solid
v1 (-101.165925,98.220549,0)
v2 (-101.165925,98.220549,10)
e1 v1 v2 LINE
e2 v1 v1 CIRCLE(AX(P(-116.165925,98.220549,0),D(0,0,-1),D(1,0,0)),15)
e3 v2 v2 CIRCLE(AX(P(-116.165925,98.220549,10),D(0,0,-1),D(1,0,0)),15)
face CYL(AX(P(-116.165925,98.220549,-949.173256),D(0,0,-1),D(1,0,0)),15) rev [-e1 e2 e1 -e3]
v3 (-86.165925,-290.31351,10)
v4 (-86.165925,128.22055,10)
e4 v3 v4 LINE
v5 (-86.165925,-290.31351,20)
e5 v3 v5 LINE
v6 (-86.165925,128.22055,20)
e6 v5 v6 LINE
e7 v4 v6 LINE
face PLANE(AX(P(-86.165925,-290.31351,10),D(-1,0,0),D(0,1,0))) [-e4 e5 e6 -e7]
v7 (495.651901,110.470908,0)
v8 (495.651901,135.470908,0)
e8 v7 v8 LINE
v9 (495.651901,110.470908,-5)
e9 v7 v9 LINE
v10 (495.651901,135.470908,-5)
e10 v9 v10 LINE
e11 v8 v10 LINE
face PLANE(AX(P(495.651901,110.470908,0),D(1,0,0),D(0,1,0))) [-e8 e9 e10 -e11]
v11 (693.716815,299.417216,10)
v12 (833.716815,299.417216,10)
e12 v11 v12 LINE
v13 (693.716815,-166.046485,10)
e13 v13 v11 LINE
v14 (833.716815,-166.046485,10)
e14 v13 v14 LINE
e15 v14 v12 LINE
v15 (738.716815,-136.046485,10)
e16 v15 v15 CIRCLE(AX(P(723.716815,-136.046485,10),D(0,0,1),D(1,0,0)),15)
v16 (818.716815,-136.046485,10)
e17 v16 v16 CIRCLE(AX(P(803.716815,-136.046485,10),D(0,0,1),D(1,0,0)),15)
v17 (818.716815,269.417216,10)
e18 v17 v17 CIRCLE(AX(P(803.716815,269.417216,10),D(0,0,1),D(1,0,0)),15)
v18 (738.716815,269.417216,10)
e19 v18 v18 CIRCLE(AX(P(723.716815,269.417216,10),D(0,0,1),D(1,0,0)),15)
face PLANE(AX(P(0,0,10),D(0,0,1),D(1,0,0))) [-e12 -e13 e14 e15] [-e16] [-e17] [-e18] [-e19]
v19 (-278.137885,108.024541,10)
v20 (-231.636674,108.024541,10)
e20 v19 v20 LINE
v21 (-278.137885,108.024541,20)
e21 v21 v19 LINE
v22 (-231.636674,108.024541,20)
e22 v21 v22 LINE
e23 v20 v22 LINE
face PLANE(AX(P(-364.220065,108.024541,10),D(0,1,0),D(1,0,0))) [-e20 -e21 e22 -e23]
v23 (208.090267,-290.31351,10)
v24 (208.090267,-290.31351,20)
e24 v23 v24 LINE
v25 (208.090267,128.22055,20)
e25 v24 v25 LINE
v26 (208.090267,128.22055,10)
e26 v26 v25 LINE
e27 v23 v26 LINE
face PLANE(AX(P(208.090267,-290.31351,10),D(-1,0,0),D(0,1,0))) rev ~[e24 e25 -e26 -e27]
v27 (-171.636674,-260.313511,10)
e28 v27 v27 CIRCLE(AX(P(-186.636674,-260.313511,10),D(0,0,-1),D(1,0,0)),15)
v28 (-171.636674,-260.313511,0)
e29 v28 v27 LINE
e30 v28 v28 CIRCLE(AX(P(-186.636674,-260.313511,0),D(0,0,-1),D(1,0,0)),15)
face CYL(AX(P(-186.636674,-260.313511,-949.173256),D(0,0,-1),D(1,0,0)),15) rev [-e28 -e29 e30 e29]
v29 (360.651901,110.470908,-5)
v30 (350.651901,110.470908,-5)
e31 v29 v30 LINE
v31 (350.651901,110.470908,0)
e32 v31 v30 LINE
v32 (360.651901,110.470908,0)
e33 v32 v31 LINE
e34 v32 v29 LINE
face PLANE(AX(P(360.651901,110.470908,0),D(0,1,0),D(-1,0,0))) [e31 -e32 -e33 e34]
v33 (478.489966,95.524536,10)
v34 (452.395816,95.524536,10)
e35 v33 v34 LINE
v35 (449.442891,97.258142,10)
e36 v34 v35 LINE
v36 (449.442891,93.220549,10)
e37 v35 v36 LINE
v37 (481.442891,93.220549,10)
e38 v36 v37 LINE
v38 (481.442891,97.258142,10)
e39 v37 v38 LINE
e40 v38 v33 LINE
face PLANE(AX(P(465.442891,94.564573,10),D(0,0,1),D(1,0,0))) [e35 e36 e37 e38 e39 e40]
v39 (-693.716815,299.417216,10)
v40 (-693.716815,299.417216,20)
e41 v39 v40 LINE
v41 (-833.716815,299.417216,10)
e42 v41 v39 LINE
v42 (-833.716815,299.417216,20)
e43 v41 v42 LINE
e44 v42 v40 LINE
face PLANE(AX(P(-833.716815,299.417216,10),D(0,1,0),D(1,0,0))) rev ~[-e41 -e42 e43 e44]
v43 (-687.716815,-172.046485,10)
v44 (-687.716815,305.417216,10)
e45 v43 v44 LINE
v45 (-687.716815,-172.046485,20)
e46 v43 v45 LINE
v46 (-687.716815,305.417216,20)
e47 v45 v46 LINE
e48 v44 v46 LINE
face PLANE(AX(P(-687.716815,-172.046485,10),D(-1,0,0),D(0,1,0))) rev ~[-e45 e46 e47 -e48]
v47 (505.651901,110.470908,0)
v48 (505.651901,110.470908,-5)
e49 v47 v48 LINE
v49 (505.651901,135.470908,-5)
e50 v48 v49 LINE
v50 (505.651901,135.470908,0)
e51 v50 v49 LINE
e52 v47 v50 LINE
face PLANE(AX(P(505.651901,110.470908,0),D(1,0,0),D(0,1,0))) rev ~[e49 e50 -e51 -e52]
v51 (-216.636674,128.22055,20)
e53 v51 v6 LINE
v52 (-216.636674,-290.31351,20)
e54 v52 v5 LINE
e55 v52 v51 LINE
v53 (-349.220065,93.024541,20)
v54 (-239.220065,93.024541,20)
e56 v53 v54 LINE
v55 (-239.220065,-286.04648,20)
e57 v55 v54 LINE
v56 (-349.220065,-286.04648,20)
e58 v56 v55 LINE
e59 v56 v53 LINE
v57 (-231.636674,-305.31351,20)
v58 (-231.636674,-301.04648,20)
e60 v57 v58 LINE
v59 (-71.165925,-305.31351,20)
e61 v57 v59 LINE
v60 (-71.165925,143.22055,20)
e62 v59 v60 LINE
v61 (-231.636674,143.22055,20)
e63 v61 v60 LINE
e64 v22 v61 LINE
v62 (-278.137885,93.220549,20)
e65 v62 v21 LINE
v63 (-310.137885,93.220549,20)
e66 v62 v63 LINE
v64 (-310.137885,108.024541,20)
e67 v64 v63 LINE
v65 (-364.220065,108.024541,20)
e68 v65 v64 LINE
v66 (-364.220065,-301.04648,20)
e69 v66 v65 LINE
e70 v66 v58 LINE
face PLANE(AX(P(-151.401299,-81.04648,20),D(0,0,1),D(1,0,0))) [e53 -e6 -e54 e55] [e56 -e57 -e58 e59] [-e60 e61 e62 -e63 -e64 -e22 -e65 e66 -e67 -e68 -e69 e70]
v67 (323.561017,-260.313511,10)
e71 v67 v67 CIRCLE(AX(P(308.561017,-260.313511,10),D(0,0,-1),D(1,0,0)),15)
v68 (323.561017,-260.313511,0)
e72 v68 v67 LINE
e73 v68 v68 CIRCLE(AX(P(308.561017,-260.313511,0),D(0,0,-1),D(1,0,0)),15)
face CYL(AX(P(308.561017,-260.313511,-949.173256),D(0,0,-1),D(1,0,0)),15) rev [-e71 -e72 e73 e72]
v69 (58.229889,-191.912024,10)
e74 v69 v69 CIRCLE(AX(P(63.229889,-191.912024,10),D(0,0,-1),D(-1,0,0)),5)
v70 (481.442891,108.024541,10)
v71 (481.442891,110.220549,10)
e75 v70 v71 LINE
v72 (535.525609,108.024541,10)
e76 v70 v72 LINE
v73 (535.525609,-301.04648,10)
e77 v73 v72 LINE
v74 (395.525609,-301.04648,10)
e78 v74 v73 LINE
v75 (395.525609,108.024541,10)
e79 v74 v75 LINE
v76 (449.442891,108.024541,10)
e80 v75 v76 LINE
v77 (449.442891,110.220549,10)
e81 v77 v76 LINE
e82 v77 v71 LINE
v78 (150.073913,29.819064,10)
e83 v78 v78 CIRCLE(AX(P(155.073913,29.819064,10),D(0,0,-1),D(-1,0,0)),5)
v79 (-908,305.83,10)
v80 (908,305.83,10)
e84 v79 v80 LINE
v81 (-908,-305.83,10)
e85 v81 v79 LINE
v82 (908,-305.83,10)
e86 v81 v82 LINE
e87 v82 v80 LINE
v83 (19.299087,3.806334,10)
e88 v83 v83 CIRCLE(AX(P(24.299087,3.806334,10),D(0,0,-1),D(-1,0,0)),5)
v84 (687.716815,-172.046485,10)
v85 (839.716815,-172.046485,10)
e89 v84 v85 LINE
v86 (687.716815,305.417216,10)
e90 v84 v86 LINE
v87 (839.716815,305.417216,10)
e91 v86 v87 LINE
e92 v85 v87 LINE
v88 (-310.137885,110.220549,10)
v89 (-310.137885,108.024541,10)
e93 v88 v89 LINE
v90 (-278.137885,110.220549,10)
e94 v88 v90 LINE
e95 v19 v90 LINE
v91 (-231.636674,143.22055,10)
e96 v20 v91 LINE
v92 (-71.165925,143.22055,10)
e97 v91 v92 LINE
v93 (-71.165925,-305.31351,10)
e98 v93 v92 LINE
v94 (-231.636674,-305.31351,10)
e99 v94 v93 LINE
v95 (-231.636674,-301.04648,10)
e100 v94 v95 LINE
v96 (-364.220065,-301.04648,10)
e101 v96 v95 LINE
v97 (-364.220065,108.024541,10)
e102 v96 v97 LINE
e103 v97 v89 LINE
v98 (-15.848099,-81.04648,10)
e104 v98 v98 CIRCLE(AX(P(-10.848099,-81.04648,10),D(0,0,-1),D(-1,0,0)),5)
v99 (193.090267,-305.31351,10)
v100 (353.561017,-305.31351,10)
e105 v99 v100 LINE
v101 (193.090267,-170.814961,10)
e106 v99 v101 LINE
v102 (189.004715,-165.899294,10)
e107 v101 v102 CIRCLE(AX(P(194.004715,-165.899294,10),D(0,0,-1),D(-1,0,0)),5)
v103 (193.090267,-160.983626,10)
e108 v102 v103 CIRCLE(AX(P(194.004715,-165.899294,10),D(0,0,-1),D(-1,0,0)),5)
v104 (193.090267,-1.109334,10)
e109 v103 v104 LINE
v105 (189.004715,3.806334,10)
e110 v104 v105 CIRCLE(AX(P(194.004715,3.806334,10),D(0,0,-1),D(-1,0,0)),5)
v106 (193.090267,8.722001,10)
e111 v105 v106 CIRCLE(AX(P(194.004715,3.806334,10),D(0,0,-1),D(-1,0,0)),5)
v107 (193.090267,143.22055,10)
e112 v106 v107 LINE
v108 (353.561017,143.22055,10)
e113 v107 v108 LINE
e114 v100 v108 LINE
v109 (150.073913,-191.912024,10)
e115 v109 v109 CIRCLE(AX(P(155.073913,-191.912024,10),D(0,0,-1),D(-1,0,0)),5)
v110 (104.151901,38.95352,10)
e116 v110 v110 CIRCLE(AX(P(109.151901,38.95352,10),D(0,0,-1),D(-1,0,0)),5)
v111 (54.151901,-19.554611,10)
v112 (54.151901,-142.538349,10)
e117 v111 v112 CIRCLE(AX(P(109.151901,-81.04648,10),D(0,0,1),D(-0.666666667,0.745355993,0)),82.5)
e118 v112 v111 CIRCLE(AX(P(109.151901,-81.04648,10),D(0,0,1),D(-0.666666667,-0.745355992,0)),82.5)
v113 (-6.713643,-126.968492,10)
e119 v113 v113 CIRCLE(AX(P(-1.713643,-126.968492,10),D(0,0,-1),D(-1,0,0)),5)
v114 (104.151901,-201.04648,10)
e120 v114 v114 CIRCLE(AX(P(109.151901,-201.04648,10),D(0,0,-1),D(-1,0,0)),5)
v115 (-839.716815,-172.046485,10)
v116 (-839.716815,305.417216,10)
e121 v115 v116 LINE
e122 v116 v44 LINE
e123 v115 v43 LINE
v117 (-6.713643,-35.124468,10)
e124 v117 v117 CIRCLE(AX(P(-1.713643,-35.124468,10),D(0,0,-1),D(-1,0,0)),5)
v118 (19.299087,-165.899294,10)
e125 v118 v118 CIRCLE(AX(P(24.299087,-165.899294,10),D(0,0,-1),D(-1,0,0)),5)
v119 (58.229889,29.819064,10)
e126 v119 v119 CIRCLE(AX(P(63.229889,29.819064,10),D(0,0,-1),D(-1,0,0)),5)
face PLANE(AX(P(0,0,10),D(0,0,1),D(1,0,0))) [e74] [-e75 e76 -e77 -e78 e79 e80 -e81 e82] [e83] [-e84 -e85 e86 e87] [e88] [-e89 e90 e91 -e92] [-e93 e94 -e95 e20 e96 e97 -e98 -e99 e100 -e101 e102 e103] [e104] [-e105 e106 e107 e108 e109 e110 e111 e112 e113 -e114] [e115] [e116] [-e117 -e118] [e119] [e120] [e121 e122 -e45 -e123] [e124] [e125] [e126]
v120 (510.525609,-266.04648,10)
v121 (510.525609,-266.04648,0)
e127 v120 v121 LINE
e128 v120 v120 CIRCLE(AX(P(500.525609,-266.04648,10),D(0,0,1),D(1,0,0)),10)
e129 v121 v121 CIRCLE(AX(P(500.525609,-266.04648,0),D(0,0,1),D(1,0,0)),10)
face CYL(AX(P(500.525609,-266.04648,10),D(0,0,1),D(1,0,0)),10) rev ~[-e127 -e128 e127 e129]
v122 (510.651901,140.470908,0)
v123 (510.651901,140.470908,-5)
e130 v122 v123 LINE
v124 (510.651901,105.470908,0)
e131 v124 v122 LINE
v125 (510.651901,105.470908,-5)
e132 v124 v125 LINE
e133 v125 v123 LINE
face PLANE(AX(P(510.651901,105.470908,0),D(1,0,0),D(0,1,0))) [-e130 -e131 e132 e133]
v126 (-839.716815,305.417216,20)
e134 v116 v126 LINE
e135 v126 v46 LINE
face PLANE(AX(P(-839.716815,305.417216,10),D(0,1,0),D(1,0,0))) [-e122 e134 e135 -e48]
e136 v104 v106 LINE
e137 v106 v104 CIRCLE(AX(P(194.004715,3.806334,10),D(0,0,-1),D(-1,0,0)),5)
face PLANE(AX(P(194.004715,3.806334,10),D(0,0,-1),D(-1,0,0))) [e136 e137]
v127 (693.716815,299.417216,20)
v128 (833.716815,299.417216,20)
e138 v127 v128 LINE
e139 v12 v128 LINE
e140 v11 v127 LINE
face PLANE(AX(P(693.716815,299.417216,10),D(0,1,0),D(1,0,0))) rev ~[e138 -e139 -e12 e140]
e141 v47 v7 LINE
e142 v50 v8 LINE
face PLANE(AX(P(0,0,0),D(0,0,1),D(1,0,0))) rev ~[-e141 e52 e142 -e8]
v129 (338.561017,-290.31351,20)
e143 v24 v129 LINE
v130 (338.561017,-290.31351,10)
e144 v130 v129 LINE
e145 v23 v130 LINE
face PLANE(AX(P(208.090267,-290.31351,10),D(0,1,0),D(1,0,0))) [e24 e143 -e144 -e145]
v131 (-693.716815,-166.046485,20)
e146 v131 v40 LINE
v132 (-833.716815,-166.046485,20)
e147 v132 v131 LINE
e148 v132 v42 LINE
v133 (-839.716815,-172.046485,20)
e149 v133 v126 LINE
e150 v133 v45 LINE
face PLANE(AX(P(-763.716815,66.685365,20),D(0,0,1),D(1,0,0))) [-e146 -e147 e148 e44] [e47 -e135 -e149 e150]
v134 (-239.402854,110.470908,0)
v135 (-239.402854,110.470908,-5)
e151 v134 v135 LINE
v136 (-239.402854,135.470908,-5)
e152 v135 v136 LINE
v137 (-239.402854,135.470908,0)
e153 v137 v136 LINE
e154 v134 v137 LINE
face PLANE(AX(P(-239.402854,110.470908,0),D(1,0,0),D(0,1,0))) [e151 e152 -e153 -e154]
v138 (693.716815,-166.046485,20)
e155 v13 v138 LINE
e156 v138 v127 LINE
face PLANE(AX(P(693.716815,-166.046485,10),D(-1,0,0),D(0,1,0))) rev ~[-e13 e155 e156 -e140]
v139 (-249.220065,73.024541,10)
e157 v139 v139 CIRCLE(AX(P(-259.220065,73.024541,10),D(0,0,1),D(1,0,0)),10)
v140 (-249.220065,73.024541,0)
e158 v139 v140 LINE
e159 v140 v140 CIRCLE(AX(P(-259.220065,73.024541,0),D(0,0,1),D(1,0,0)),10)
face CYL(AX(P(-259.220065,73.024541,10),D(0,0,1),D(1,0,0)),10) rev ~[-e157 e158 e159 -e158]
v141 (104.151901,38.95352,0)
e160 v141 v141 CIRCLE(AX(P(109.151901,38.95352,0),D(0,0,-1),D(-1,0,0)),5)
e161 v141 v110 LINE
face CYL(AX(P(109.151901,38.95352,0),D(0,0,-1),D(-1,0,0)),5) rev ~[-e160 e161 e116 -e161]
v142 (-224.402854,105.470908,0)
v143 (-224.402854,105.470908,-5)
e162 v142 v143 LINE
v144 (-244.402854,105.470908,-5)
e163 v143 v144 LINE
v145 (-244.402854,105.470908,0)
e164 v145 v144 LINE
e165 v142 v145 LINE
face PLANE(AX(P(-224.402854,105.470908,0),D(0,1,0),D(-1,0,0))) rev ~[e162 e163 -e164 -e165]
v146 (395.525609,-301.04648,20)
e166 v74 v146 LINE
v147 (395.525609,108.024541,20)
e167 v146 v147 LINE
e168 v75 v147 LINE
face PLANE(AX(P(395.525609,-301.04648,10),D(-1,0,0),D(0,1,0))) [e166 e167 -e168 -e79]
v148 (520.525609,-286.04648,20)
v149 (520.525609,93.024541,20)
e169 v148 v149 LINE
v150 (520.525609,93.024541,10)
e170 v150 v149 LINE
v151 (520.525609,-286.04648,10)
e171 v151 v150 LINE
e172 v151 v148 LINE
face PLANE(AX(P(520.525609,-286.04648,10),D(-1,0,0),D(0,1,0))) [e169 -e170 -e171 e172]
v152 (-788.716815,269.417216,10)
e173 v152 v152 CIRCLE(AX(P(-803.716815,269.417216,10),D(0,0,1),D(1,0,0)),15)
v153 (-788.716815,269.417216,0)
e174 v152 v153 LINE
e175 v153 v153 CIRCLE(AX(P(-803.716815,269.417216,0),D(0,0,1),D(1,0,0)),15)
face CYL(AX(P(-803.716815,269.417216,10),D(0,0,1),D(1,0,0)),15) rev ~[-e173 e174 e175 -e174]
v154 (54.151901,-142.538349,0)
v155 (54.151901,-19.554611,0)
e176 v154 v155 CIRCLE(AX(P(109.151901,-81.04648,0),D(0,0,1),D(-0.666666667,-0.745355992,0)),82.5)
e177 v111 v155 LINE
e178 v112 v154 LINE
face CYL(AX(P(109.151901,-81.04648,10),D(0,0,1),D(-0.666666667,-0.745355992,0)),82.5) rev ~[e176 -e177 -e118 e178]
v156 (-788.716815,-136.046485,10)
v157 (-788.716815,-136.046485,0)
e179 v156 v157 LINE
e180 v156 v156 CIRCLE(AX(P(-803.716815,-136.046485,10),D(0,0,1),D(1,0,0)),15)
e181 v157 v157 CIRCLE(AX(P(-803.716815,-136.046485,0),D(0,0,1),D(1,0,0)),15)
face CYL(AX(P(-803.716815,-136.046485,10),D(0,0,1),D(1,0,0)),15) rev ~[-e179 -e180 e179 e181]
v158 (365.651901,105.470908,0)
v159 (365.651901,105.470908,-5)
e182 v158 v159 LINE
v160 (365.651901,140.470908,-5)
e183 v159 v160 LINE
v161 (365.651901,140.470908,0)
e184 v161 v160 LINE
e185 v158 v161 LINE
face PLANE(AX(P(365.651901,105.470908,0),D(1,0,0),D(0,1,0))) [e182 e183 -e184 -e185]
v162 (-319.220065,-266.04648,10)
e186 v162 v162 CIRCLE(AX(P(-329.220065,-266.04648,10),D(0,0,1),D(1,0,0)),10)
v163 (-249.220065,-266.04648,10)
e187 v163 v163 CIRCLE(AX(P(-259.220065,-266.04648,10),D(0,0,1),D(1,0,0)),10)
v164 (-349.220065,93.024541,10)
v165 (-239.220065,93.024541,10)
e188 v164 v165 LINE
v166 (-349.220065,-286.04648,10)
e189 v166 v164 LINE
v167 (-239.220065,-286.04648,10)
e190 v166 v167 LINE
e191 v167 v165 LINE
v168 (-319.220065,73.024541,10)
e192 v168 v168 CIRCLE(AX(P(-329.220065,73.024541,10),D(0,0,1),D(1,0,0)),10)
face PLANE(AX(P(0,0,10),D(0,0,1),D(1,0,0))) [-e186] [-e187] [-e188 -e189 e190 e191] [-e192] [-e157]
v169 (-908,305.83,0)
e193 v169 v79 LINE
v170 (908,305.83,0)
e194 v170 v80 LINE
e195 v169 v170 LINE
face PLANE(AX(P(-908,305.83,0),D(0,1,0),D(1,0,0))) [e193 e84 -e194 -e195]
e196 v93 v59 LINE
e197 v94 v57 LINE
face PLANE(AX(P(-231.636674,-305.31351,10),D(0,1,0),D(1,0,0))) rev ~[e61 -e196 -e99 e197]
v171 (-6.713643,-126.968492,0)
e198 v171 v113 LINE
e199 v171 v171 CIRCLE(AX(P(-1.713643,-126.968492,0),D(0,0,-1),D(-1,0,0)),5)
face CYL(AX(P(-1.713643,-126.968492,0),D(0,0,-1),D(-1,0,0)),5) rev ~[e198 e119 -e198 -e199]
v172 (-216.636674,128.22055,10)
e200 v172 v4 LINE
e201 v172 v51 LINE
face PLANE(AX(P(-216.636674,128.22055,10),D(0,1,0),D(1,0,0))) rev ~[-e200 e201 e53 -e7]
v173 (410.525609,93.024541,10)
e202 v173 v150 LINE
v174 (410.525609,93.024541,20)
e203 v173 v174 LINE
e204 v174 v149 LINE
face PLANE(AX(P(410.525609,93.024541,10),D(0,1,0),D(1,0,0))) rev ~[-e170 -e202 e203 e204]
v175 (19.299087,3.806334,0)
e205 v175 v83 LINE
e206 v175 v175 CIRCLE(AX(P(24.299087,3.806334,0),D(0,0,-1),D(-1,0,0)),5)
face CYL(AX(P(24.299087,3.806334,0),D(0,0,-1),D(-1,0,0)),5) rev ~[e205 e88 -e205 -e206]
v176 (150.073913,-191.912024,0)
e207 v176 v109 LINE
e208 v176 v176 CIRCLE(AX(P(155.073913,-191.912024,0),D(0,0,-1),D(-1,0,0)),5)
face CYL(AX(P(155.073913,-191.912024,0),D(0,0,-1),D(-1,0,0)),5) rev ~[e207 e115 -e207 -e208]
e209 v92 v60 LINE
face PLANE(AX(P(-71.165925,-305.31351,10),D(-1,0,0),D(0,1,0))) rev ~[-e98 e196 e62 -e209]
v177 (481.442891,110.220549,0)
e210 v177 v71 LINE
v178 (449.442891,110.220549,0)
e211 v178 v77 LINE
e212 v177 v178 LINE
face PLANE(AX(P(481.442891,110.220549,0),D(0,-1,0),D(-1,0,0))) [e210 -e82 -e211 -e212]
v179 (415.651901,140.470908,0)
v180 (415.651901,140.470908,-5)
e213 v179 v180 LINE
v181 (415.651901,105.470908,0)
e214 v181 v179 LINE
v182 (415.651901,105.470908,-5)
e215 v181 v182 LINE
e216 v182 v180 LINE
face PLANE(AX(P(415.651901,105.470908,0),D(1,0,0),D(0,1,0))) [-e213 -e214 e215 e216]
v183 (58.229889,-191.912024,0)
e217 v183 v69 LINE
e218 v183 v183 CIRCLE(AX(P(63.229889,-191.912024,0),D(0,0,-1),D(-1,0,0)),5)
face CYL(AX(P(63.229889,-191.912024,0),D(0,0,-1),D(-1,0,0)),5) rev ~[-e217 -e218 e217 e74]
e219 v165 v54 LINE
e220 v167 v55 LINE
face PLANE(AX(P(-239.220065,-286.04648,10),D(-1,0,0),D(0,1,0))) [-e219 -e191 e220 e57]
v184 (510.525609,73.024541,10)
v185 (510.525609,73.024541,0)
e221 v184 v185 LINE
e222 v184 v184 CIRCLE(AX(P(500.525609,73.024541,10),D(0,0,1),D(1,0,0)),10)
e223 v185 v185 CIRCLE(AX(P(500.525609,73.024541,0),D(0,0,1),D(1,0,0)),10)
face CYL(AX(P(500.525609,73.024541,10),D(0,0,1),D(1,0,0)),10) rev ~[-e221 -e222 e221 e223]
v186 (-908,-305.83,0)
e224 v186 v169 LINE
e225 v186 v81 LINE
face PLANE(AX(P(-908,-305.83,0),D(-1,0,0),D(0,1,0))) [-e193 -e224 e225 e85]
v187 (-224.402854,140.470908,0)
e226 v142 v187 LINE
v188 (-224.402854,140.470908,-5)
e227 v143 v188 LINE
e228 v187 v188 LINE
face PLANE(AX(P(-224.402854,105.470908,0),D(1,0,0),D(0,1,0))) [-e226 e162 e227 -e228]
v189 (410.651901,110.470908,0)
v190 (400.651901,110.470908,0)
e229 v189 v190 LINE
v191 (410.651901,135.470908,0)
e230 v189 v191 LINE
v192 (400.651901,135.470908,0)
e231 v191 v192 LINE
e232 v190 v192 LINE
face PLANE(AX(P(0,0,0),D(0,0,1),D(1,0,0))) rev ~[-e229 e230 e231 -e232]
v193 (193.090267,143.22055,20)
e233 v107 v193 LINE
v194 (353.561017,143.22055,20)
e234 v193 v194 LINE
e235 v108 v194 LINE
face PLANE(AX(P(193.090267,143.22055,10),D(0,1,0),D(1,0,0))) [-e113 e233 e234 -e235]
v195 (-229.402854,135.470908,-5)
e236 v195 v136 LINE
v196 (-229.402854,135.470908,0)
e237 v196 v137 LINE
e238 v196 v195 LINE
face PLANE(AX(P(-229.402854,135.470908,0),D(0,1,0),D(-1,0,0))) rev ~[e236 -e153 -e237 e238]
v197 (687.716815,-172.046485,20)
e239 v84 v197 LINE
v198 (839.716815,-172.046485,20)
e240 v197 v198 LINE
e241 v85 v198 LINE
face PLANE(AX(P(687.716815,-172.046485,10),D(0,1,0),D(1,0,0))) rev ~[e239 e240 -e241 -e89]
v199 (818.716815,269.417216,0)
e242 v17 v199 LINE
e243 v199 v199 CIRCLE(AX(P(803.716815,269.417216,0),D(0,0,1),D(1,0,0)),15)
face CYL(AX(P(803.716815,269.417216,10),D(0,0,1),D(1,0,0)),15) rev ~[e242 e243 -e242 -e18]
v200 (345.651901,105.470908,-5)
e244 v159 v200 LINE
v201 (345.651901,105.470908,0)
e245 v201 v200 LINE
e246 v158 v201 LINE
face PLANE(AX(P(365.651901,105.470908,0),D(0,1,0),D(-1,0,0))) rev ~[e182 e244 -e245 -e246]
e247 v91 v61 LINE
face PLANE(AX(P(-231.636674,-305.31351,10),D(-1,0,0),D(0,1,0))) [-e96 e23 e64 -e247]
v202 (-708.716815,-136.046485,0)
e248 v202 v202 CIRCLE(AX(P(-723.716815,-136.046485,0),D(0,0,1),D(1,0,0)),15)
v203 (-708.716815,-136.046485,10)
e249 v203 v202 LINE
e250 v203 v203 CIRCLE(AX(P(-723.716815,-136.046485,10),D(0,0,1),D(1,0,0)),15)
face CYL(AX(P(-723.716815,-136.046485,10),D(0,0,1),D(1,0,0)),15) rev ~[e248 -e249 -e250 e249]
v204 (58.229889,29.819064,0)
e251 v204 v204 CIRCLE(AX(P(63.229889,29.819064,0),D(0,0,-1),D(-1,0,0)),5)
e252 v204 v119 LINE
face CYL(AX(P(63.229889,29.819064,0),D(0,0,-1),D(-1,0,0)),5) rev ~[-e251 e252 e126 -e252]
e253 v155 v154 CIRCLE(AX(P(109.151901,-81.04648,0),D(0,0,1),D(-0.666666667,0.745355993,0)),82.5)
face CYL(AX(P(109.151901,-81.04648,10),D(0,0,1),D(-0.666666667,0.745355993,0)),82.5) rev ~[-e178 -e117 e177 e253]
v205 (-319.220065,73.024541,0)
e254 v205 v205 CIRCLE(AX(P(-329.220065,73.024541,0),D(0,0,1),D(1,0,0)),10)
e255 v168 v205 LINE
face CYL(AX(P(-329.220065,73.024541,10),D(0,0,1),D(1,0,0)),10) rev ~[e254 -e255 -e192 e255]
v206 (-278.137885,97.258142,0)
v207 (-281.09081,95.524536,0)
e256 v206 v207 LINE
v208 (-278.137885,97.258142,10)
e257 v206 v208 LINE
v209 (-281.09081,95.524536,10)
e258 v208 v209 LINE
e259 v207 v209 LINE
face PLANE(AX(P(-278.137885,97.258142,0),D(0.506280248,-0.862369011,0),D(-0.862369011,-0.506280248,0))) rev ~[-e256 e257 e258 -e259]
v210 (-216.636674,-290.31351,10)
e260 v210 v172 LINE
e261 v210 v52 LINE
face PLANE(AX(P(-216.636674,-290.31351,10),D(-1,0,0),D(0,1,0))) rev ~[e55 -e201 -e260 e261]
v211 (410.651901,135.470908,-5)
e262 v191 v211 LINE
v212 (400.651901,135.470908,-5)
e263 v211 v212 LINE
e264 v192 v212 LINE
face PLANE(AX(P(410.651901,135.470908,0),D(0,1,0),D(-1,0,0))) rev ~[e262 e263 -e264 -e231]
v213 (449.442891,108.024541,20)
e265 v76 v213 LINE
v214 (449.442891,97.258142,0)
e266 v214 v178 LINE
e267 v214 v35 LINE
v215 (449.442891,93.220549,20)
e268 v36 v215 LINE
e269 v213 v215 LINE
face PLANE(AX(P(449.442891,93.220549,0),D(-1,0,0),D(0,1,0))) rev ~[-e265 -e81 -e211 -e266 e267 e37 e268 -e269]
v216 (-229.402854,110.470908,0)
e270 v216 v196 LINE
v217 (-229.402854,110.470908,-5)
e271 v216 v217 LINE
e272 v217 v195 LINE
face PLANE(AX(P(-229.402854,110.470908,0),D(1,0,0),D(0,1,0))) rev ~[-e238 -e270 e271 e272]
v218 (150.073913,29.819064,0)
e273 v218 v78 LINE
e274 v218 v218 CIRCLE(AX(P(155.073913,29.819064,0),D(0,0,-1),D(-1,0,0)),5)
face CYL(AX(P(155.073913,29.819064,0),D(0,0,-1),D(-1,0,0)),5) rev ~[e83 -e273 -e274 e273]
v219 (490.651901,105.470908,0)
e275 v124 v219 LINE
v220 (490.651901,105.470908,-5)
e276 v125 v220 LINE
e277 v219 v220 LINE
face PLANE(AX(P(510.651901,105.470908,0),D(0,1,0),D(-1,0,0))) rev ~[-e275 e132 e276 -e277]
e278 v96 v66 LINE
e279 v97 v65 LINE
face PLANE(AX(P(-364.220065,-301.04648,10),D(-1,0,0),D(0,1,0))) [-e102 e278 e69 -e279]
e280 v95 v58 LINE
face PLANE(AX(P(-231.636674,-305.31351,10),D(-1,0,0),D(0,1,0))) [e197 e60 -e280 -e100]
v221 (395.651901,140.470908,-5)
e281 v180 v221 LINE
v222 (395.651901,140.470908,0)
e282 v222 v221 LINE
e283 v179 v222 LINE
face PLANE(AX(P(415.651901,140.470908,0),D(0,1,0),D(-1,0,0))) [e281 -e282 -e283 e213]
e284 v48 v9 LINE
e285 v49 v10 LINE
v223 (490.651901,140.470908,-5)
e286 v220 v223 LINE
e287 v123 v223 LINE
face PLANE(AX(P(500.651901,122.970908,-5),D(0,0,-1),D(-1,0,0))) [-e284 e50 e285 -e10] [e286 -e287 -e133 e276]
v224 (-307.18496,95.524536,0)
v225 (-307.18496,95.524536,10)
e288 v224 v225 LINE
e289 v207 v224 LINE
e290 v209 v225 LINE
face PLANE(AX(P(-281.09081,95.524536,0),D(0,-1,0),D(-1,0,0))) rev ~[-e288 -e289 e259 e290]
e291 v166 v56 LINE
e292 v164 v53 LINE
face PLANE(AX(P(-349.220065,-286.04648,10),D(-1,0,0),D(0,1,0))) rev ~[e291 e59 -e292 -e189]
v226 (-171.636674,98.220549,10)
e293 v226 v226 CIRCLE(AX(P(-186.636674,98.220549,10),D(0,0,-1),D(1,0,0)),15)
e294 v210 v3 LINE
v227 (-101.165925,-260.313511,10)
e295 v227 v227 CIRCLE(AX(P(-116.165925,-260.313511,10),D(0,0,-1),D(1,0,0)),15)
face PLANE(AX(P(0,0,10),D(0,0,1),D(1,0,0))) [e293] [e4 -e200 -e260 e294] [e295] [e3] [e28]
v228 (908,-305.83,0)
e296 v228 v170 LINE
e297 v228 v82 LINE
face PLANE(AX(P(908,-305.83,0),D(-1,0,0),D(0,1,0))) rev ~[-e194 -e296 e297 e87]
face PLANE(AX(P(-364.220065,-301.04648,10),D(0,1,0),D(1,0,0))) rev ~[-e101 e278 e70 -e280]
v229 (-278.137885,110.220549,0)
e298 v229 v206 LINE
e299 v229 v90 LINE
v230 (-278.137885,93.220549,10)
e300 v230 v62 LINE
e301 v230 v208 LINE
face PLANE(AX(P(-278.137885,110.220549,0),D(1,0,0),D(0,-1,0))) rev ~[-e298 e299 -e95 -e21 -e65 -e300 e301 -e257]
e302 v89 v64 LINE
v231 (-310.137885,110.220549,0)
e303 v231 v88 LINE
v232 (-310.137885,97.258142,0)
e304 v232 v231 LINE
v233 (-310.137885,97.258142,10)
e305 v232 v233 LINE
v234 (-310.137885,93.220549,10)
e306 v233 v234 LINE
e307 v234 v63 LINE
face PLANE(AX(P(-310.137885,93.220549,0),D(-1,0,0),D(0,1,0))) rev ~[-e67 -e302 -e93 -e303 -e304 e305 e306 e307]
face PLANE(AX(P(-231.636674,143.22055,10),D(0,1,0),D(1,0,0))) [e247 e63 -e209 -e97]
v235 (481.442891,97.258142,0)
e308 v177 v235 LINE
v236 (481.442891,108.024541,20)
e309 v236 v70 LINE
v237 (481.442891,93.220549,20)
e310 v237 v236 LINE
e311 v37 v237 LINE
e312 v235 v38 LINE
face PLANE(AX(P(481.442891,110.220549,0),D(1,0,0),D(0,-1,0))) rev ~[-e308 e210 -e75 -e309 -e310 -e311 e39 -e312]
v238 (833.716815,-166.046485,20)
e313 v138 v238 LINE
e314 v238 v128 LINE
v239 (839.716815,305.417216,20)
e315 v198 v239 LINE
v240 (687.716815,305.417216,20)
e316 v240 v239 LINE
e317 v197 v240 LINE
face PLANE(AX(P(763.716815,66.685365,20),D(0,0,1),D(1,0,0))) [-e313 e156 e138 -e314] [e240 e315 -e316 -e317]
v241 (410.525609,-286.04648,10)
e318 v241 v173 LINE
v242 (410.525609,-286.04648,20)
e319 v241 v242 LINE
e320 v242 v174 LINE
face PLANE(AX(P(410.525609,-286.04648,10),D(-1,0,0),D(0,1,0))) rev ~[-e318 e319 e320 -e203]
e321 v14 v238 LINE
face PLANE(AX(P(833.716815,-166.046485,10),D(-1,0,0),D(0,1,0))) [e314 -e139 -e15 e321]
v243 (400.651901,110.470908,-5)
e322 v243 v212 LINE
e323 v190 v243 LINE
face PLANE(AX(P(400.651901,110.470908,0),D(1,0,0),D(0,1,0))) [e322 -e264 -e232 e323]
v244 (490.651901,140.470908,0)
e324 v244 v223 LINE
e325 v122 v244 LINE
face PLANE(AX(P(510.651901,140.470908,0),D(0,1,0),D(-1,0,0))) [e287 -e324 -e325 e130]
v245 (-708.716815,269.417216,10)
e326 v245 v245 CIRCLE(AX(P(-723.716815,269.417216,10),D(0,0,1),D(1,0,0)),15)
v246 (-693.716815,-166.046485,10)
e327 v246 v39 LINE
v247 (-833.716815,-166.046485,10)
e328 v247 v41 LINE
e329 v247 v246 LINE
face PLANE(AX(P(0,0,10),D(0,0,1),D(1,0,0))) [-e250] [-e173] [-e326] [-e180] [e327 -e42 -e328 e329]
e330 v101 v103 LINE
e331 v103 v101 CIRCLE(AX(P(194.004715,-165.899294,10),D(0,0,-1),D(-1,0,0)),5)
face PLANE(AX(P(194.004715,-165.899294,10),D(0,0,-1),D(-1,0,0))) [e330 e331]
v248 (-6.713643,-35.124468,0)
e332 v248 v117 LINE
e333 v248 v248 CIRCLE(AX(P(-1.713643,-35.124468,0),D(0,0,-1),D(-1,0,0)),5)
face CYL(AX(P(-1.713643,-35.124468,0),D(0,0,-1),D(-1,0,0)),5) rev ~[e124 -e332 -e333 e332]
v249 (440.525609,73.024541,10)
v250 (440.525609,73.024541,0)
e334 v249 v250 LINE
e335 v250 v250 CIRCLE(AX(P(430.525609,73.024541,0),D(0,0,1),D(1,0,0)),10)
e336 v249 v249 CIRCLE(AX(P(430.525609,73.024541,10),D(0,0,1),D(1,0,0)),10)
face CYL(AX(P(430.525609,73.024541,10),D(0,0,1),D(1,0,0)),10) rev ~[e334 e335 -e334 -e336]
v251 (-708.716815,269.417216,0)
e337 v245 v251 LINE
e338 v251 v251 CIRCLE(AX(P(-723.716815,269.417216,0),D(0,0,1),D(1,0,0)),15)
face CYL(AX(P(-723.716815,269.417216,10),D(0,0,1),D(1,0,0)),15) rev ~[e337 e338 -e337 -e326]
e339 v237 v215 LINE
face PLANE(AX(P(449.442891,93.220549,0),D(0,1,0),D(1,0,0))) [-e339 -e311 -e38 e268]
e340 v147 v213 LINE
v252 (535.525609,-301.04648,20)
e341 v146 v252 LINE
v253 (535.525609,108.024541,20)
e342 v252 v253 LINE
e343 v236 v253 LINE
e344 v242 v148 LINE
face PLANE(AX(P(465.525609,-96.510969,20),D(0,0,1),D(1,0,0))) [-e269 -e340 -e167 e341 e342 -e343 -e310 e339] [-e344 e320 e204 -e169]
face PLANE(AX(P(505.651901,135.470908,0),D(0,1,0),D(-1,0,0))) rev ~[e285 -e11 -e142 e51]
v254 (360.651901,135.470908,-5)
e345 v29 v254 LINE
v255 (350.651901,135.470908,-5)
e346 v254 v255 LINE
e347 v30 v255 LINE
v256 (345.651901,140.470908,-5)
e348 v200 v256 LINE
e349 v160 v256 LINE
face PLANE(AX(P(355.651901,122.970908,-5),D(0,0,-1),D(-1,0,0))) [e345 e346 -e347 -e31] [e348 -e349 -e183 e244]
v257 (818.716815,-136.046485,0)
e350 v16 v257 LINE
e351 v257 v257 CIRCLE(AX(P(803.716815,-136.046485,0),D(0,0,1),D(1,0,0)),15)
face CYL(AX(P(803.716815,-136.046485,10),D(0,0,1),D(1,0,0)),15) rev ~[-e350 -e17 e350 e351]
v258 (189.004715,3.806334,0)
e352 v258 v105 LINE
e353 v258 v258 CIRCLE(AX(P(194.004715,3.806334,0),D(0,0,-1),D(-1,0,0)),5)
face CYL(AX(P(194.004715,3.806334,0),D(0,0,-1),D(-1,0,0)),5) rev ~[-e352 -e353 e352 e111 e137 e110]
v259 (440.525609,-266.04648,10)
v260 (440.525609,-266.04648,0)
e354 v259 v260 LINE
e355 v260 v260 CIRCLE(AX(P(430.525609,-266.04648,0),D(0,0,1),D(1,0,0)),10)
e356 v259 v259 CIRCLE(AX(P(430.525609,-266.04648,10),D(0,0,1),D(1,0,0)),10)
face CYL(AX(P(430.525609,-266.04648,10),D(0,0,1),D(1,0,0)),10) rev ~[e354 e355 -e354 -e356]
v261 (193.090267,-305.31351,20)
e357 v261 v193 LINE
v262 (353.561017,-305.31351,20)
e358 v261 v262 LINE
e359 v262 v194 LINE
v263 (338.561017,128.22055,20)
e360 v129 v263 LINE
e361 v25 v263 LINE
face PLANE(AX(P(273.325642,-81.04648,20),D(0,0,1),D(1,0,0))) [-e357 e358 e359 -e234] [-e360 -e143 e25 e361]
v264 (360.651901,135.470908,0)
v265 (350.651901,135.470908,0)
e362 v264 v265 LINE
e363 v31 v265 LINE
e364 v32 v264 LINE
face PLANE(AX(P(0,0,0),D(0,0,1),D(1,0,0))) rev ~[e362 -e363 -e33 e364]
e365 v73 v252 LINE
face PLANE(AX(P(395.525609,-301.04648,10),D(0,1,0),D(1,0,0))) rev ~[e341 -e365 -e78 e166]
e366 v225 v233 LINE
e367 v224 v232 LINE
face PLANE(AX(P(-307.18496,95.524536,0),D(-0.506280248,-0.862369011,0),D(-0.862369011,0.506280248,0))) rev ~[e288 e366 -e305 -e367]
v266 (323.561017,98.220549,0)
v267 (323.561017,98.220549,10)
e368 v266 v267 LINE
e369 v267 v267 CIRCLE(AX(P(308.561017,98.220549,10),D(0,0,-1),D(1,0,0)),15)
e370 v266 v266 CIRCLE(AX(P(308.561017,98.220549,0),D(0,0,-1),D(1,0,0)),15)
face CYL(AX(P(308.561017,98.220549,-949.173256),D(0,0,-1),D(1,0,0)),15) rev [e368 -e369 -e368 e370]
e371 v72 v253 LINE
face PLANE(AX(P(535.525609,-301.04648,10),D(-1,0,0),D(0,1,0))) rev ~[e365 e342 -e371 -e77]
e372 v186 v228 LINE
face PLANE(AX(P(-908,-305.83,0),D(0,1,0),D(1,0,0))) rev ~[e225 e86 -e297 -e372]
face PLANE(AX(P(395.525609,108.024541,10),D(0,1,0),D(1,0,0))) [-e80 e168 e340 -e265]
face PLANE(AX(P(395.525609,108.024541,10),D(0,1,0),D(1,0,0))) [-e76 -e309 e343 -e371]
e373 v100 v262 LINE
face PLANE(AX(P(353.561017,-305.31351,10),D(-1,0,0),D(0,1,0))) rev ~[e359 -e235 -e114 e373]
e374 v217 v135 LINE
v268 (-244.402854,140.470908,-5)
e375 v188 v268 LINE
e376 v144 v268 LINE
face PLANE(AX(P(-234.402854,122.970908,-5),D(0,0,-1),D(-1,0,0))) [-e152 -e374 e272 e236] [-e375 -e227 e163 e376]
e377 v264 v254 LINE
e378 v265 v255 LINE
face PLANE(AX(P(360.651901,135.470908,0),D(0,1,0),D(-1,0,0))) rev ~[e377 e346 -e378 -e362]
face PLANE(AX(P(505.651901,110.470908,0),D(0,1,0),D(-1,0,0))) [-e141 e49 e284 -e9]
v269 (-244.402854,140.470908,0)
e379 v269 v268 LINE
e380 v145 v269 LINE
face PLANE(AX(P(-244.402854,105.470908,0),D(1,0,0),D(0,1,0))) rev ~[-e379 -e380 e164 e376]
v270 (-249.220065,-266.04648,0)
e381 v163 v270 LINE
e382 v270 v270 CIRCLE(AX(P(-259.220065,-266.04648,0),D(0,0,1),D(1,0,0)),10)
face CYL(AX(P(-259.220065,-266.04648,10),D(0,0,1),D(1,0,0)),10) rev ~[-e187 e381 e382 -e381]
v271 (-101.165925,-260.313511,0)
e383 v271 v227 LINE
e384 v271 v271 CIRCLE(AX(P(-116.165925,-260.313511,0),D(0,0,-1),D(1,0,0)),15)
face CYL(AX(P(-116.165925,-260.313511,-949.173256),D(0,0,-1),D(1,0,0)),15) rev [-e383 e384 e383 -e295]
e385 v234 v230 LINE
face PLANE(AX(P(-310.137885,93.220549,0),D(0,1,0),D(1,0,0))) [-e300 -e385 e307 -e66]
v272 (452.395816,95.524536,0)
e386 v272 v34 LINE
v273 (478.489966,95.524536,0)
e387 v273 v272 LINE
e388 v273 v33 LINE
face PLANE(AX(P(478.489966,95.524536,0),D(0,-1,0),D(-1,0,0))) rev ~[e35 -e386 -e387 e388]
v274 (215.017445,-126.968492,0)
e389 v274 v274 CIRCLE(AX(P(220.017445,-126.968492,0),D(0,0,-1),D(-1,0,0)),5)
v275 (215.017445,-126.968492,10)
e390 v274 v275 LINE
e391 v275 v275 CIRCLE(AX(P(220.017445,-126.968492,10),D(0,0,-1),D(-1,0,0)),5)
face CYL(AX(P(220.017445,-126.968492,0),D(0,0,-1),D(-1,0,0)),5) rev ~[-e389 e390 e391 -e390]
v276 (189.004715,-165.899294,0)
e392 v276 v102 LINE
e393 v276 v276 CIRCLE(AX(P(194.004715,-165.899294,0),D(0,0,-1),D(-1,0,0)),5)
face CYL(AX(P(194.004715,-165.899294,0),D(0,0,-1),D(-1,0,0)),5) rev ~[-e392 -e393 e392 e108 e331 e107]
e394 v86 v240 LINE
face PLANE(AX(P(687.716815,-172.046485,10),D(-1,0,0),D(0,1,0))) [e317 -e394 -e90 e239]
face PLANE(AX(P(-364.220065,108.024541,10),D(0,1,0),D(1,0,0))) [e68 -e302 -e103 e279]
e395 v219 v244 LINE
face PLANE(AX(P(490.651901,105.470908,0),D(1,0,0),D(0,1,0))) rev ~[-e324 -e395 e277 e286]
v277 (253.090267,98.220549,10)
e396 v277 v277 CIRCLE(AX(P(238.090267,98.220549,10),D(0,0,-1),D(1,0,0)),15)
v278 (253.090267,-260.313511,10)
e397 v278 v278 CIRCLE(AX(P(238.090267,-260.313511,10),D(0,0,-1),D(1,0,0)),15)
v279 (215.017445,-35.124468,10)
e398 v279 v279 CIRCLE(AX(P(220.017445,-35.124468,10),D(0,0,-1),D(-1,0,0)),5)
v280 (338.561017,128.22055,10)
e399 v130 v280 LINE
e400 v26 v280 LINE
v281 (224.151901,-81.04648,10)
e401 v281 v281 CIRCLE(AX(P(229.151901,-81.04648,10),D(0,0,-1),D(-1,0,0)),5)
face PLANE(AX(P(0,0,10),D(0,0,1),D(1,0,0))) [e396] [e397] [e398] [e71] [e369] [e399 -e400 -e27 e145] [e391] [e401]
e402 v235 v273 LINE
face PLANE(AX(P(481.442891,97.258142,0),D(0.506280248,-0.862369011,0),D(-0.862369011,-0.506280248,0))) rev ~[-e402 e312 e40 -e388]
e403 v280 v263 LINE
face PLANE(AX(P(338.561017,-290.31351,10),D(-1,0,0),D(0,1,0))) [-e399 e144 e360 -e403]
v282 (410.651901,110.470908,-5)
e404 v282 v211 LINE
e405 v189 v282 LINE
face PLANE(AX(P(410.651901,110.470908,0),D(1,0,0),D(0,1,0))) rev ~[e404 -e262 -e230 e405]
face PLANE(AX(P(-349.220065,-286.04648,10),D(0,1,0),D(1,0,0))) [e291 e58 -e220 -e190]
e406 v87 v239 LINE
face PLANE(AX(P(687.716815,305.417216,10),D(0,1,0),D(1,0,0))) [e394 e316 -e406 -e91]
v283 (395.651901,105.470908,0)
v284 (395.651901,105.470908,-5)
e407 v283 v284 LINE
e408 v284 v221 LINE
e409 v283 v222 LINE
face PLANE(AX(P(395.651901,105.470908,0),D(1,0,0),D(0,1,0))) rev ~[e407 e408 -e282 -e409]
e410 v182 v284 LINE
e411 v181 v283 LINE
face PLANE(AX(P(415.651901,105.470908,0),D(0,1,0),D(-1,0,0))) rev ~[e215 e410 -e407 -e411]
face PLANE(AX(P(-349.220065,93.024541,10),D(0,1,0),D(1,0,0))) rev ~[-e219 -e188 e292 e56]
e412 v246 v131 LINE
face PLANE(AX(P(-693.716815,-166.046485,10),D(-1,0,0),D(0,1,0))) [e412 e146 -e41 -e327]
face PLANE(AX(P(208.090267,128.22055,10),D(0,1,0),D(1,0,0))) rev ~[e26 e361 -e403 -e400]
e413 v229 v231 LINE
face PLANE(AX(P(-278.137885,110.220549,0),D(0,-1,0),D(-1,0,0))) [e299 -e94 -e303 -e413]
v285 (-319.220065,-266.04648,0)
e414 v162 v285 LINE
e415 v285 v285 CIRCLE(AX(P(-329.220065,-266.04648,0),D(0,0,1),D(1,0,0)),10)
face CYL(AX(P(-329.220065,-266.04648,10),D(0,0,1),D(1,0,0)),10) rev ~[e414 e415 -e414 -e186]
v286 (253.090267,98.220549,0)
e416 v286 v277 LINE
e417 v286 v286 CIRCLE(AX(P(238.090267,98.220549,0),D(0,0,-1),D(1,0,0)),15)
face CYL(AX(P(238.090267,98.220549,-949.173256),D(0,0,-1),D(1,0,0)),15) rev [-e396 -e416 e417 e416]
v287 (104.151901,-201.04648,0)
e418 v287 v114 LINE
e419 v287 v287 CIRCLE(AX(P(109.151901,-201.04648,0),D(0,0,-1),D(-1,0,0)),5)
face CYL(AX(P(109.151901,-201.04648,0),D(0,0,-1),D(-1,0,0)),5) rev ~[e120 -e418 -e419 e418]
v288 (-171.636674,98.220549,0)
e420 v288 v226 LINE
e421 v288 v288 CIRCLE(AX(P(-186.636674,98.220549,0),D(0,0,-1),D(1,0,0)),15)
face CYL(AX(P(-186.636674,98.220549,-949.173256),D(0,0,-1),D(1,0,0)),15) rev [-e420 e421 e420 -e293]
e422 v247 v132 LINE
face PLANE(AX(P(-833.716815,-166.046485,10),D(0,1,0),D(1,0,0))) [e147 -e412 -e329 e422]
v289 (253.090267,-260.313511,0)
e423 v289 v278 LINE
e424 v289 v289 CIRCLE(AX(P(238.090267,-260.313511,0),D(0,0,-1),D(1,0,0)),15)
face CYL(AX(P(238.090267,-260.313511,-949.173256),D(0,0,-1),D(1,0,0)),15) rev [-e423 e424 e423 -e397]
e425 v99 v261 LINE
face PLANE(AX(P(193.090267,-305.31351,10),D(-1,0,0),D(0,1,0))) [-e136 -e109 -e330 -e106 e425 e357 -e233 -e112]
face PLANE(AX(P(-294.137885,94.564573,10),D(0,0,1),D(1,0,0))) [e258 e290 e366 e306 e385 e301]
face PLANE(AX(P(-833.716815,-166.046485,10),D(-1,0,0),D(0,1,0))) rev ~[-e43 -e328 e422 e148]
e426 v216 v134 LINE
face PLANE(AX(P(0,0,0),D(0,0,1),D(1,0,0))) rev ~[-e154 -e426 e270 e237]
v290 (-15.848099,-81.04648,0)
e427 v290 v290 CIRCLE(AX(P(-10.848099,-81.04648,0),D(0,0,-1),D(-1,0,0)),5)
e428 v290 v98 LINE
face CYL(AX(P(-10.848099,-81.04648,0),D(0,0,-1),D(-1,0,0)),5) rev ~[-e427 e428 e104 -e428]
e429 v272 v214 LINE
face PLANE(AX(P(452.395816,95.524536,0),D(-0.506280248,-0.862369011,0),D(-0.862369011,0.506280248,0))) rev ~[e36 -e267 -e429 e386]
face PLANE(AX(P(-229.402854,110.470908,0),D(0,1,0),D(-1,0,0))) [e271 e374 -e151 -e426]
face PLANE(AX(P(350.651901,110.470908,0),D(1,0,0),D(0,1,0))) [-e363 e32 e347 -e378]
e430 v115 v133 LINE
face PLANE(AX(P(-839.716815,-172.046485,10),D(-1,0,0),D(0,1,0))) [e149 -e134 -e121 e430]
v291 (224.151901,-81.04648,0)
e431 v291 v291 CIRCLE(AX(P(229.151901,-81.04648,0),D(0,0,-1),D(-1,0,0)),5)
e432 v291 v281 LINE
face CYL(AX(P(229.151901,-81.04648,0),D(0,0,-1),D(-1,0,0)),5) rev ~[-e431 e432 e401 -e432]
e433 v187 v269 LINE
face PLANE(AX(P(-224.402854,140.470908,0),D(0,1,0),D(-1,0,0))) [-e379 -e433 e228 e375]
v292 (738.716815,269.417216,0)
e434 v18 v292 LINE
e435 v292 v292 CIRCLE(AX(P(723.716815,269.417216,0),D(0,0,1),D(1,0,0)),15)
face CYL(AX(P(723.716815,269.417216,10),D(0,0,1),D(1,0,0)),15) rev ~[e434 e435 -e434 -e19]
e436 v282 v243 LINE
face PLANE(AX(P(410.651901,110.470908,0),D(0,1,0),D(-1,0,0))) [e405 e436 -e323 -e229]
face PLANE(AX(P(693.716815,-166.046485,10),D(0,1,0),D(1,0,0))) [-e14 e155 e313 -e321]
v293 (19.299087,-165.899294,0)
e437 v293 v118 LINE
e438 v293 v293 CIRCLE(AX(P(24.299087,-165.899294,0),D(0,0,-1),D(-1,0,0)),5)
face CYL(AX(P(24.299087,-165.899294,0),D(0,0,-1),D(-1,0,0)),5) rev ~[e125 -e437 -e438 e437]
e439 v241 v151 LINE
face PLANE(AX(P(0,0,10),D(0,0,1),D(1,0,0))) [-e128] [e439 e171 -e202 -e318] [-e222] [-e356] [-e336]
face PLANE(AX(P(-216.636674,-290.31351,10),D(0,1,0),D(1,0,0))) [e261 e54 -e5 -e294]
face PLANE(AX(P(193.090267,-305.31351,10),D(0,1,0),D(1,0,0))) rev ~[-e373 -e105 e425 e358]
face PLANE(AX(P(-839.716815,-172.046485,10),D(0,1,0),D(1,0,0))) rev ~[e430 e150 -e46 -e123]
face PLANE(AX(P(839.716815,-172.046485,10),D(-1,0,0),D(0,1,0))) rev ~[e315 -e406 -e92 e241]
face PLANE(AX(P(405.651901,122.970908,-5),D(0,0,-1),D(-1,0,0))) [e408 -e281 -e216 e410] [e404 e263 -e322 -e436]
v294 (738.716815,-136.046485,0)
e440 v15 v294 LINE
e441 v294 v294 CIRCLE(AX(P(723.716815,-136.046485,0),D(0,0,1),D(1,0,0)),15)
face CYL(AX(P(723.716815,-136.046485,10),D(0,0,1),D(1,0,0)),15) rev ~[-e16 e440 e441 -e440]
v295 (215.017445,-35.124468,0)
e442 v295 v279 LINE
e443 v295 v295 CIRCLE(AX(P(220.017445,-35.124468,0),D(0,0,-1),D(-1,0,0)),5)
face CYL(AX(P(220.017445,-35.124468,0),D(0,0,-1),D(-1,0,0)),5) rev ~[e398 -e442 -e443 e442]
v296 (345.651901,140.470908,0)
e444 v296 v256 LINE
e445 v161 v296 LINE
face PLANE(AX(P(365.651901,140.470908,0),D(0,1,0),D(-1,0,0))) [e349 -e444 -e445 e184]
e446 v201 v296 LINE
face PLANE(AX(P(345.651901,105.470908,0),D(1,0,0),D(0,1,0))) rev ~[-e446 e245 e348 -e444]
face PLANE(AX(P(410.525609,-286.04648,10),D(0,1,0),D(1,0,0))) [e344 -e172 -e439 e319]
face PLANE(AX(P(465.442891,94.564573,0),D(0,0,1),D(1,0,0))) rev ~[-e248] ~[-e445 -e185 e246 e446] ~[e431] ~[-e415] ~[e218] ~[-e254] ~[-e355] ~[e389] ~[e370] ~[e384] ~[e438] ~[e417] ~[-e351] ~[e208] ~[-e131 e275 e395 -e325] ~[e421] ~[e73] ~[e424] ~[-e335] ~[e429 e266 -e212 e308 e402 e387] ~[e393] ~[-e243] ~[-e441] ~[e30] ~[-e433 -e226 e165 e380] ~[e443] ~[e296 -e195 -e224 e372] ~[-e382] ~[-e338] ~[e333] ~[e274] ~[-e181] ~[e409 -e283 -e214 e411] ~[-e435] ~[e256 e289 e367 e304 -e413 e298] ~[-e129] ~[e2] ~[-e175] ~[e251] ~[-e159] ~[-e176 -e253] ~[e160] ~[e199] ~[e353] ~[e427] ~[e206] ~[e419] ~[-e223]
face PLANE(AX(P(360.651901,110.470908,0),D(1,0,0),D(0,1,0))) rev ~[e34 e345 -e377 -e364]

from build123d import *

# Parameters (mm, degrees)
SKETCH1_W               = 1816
SKETCH1_H               = 611.66
BOSS_EXTRUDE1_DEPTH     = 10
CUT_EXTRUDE1_DEPTH      = 959.173256202
SKETCH3_W               = 160.47075
SKETCH3_H               = 448.53406
SKETCH3_W_2             = 130.47075
SKETCH3_H_2             = 418.53406
BOSS_EXTRUDE2_DEPTH     = 10
CUT_EXTRUDE2_DEPTH      = 959.173256202
CUT_EXTRUDE2_DEPTH_BACK = 959.173256202
SKETCH4_R               = 15
SKETCH5_W               = 20
SKETCH5_H               = 35
SKETCH5_W_2             = 10
SKETCH5_H_2             = 25
BOSS_EXTRUDE3_DEPTH     = 5
SKETCH6_W               = 132.5833903
SKETCH6_H               = 409.0710211
SKETCH6_W_2             = 110
SKETCH6_H_2             = 379.0710211
SKETCH6_W_3             = 140
BOSS_EXTRUDE4_DEPTH     = 10
CUT_EXTRUDE3_DEPTH      = 959.329791304
BOSS_EXTRUDE5_DEPTH     = 10
BOSS_EXTRUDE6_DEPTH     = 10
SKETCH10_W              = 152
SKETCH10_H              = 477.4637013
SKETCH10_W_2            = 140
SKETCH10_H_2            = 465.4637013
BOSS_EXTRUDE7_DEPTH     = 10
SKETCH11_R              = 10
CUT_EXTRUDE4_DEPTH      = 959.238482268
SKETCH12_R              = 10
CUT_EXTRUDE5_DEPTH      = 959.238482268
SKETCH13_R              = 15
CUT_EXTRUDE6_DEPTH      = 959.238482268
SKETCH14_R              = 5
CUT_EXTRUDE7_DEPTH      = 10


with BuildPart() as part:
    # Sketch1 → Boss-Extrude1 (new body)
    with BuildSketch(Plane.XY):
        Rectangle(SKETCH1_W, SKETCH1_H)
    extrude(amount=BOSS_EXTRUDE1_DEPTH)

    # Sketch2 → Cut-Extrude1 (cut, through all)
    with BuildSketch(Plane.XY.offset(10)):
        with BuildLine():
            ThreePointArc((191.6519012, -81.04648), (142.832385163, -5.734628343), (54.1519012, -19.554610619))
            Line((54.1519012, -19.554610619), (54.1519012, -142.538349381))
            ThreePointArc((54.1519012, -142.538349381), (142.832385163, -156.358331657), (191.6519012, -81.04648))
        make_face()
        with BuildLine():
            Line((54.1519012, -142.538349381), (54.1519012, -19.554610619))
            ThreePointArc((54.1519012, -19.554610619), (26.6519012, -81.04648), (54.1519012, -142.538349381))
        make_face()
    extrude(amount=-CUT_EXTRUDE1_DEPTH, mode=Mode.SUBTRACT)

    # Sketch3 → Boss-Extrude2 (add)
    # profile 1 of 2: a face of its own
    with BuildSketch(Plane.XY.offset(10)):
        with Locations((-151.4012995, -81.04648)):
            Rectangle(SKETCH3_W, SKETCH3_H)
        with Locations((-151.4012995, -81.04648)):
            Rectangle(SKETCH3_W_2, SKETCH3_H_2, mode=Mode.SUBTRACT)
    # profile 2 of 2: a face of its own
    with BuildSketch(Plane.XY.offset(10)):
        with Locations((273.3256421, -81.04648)):
            Rectangle(SKETCH3_W, SKETCH3_H)
        with Locations((273.3256421, -81.04648)):
            Rectangle(SKETCH3_W_2, SKETCH3_H_2, mode=Mode.SUBTRACT)
    extrude(amount=BOSS_EXTRUDE2_DEPTH)

    # Sketch4 → Cut-Extrude2 (cut, two sides: drawn at the far end of the back side and taken through both)
    with BuildSketch(Plane.XY.offset(10).offset(-CUT_EXTRUDE2_DEPTH_BACK)):
        with Locations((-186.6366745, 98.2205489)):
            Circle(SKETCH4_R)
        with Locations((-116.1659245, 98.2205489)):
            Circle(SKETCH4_R)
        with Locations((-116.1659245, -260.3135111)):
            Circle(SKETCH4_R)
        with Locations((-186.6366745, -260.3135111)):
            Circle(SKETCH4_R)
        with Locations((238.0902671, 98.2205489)):
            Circle(SKETCH4_R)
        with Locations((308.5610171, 98.2205489)):
            Circle(SKETCH4_R)
        with Locations((308.5610171, -260.3135111)):
            Circle(SKETCH4_R)
        with Locations((238.0902671, -260.3135111)):
            Circle(SKETCH4_R)
    extrude(amount=CUT_EXTRUDE2_DEPTH + CUT_EXTRUDE2_DEPTH_BACK, mode=Mode.SUBTRACT)

    # Sketch5 → Boss-Extrude3 (add)
    # profile 1 of 4: a face of its own
    with BuildSketch(Plane(origin=(0, 0, 0), x_dir=(-1, 0, 0), z_dir=(0, 0, -1))):
        with Locations((-500.6519012, 122.970908)):
            Rectangle(SKETCH5_W, SKETCH5_H)
        with Locations((-500.6519012, 122.970908)):
            Rectangle(SKETCH5_W_2, SKETCH5_H_2, mode=Mode.SUBTRACT)
    # profile 2 of 4: a face of its own
    with BuildSketch(Plane(origin=(0, 0, 0), x_dir=(-1, 0, 0), z_dir=(0, 0, -1))):
        with Locations((-405.6519012, 122.970908)):
            Rectangle(SKETCH5_W, SKETCH5_H)
        with Locations((-405.6519012, 122.970908)):
            Rectangle(SKETCH5_W_2, SKETCH5_H_2, mode=Mode.SUBTRACT)
    # profile 3 of 4: a face of its own
    with BuildSketch(Plane(origin=(0, 0, 0), x_dir=(-1, 0, 0), z_dir=(0, 0, -1))):
        with Locations((-355.6519012, 122.970908)):
            Rectangle(SKETCH5_W, SKETCH5_H)
        with Locations((-355.6519012, 122.970908)):
            Rectangle(SKETCH5_W_2, SKETCH5_H_2, mode=Mode.SUBTRACT)
    # profile 4 of 4: a face of its own
    with BuildSketch(Plane(origin=(0, 0, 0), x_dir=(-1, 0, 0), z_dir=(0, 0, -1))):
        with Locations((234.4028544, 122.970908)):
            Rectangle(SKETCH5_W, SKETCH5_H)
        with Locations((234.4028544, 122.970908)):
            Rectangle(SKETCH5_W_2, SKETCH5_H_2, mode=Mode.SUBTRACT)
    extrude(amount=BOSS_EXTRUDE3_DEPTH)

    # Sketch6 → Boss-Extrude4 (add)
    # profile 1 of 2: a face of its own
    with BuildSketch(Plane.XY.offset(10)):
        with Locations((-297.92836965, -96.51096945)):
            Rectangle(SKETCH6_W, SKETCH6_H)
        with Locations((-294.2200648, -96.51096945)):
            Rectangle(SKETCH6_W_2, SKETCH6_H_2, mode=Mode.SUBTRACT)
    # profile 2 of 2: a face of its own
    with BuildSketch(Plane.XY.offset(10)):
        with Locations((465.5256093, -96.51096945)):
            Rectangle(SKETCH6_W_3, SKETCH6_H)
        with Locations((465.5256093, -96.51096945)):
            Rectangle(SKETCH6_W_2, SKETCH6_H_2, mode=Mode.SUBTRACT)
    extrude(amount=BOSS_EXTRUDE4_DEPTH)

    # Sketch7 → Cut-Extrude3 (cut, through all)
    with BuildSketch(Plane(origin=(0, 0, 0), x_dir=(-1, 0, 0), z_dir=(0, 0, -1))):
        Polygon((310.1378846, 98.2205489), (310.1378846, 93.2205489), (278.1378846, 93.2205489), (278.1378846, 98.2205489), (278.1378846, 110.2205489), (310.1378846, 110.2205489), align=None)
        Polygon((-481.4428912, 98.2205489), (-481.4428912, 110.2205489), (-449.4428912, 110.2205489), (-449.4428912, 98.2205489), (-449.4428912, 93.2205489), (-481.4428912, 93.2205489), align=None)
    extrude(amount=-CUT_EXTRUDE3_DEPTH, mode=Mode.SUBTRACT)

    # Sketch8 → Boss-Extrude5 (add)
    with BuildSketch(Plane(origin=(0, 0, 0), x_dir=(-1, 0, 0), z_dir=(0, 0, -1))):
        Polygon((281.0908096, 95.5245363), (307.1849596, 95.5245363), (310.1378846, 97.258141733), (310.1378846, 93.2205489), (278.1378846, 93.2205489), (278.1378846, 97.258141733), align=None)
    extrude(amount=-BOSS_EXTRUDE5_DEPTH)

    # Sketch9 → Boss-Extrude6 (add)
    with BuildSketch(Plane(origin=(0, 0, 0), x_dir=(-1, 0, 0), z_dir=(0, 0, -1))):
        Polygon((-478.4899662, 95.5245363), (-452.3958162, 95.5245363), (-449.4428912, 97.258141733), (-449.4428912, 93.2205489), (-481.4428912, 93.2205489), (-481.4428912, 97.258141733), align=None)
    extrude(amount=-BOSS_EXTRUDE6_DEPTH)

    # Sketch10 → Boss-Extrude7 (add)
    # profile 1 of 2: a face of its own
    with BuildSketch(Plane.XY.offset(10)):
        with Locations((763.7168147, 66.68536525)):
            Rectangle(SKETCH10_W, SKETCH10_H)
        with Locations((763.7168147, 66.68536525)):
            Rectangle(SKETCH10_W_2, SKETCH10_H_2, mode=Mode.SUBTRACT)
    # profile 2 of 2: a face of its own
    with BuildSketch(Plane.XY.offset(10)):
        with Locations((-763.7168147, 66.68536525)):
            Rectangle(SKETCH10_W, SKETCH10_H)
        with Locations((-763.7168147, 66.68536525)):
            Rectangle(SKETCH10_W_2, SKETCH10_H_2, mode=Mode.SUBTRACT)
    extrude(amount=BOSS_EXTRUDE7_DEPTH)

    # Sketch11 → Cut-Extrude4 (cut, through all)
    with BuildSketch(Plane.XY.offset(10)):
        with Locations((-329.2200648, 73.0245411)):
            Circle(SKETCH11_R)
        with Locations((-259.2200648, 73.0245411)):
            Circle(SKETCH11_R)
        with Locations((-259.2200648, -266.04648)):
            Circle(SKETCH11_R)
        with Locations((-329.2200648, -266.04648)):
            Circle(SKETCH11_R)
    extrude(amount=-CUT_EXTRUDE4_DEPTH, mode=Mode.SUBTRACT)

    # Sketch12 → Cut-Extrude5 (cut, through all)
    with BuildSketch(Plane.XY.offset(10)):
        with Locations((430.5256093, 73.0245411)):
            Circle(SKETCH12_R)
        with Locations((500.5256093, 73.0245411)):
            Circle(SKETCH12_R)
        with Locations((500.5256093, -266.04648)):
            Circle(SKETCH12_R)
        with Locations((430.5256093, -266.04648)):
            Circle(SKETCH12_R)
    extrude(amount=-CUT_EXTRUDE5_DEPTH, mode=Mode.SUBTRACT)

    # Sketch13 → Cut-Extrude6 (cut, through all)
    with BuildSketch(Plane.XY.offset(10)):
        with Locations((-723.7168147, -136.0464854)):
            Circle(SKETCH13_R)
        with Locations((-803.7168147, -136.0464854)):
            Circle(SKETCH13_R)
        with Locations((-723.7168147, 269.4172159)):
            Circle(SKETCH13_R)
        with Locations((-803.7168147, 269.4172159)):
            Circle(SKETCH13_R)
        with Locations((803.7168147, -136.0464854)):
            Circle(SKETCH13_R)
        with Locations((723.7168147, -136.0464854)):
            Circle(SKETCH13_R)
        with Locations((723.7168147, 269.4172159)):
            Circle(SKETCH13_R)
        with Locations((803.7168147, 269.4172159)):
            Circle(SKETCH13_R)
    extrude(amount=-CUT_EXTRUDE6_DEPTH, mode=Mode.SUBTRACT)

    # Sketch14 → Cut-Extrude7 (cut)
    with BuildSketch(Plane(origin=(0, 0, 0), x_dir=(-1, 0, 0), z_dir=(0, 0, -1))):
        with Locations((-109.1519012, 38.95352)):
            Circle(SKETCH14_R)
        with Locations((-63.229889316, 29.819063901)):
            Circle(SKETCH14_R)
        with Locations((-24.299087458, 3.806333742)):
            Circle(SKETCH14_R)
        with Locations((1.713642701, -35.124468116)):
            Circle(SKETCH14_R)
        with Locations((10.8480988, -81.04648)):
            Circle(SKETCH14_R)
        with Locations((1.713642701, -126.968491884)):
            Circle(SKETCH14_R)
        with Locations((-24.299087458, -165.899293742)):
            Circle(SKETCH14_R)
        with Locations((-63.229889316, -191.912023901)):
            Circle(SKETCH14_R)
        with Locations((-109.1519012, -201.04648)):
            Circle(SKETCH14_R)
        with Locations((-155.073913084, -191.912023901)):
            Circle(SKETCH14_R)
        with Locations((-194.004714942, -165.899293742)):
            Circle(SKETCH14_R)
        with Locations((-220.017445101, -126.968491884)):
            Circle(SKETCH14_R)
        with Locations((-229.1519012, -81.04648)):
            Circle(SKETCH14_R)
        with Locations((-220.017445101, -35.124468116)):
            Circle(SKETCH14_R)
        with Locations((-194.004714942, 3.806333742)):
            Circle(SKETCH14_R)
        with Locations((-155.073913084, 29.819063901)):
            Circle(SKETCH14_R)
    extrude(amount=-CUT_EXTRUDE7_DEPTH, mode=Mode.SUBTRACT)


solid = part.part
